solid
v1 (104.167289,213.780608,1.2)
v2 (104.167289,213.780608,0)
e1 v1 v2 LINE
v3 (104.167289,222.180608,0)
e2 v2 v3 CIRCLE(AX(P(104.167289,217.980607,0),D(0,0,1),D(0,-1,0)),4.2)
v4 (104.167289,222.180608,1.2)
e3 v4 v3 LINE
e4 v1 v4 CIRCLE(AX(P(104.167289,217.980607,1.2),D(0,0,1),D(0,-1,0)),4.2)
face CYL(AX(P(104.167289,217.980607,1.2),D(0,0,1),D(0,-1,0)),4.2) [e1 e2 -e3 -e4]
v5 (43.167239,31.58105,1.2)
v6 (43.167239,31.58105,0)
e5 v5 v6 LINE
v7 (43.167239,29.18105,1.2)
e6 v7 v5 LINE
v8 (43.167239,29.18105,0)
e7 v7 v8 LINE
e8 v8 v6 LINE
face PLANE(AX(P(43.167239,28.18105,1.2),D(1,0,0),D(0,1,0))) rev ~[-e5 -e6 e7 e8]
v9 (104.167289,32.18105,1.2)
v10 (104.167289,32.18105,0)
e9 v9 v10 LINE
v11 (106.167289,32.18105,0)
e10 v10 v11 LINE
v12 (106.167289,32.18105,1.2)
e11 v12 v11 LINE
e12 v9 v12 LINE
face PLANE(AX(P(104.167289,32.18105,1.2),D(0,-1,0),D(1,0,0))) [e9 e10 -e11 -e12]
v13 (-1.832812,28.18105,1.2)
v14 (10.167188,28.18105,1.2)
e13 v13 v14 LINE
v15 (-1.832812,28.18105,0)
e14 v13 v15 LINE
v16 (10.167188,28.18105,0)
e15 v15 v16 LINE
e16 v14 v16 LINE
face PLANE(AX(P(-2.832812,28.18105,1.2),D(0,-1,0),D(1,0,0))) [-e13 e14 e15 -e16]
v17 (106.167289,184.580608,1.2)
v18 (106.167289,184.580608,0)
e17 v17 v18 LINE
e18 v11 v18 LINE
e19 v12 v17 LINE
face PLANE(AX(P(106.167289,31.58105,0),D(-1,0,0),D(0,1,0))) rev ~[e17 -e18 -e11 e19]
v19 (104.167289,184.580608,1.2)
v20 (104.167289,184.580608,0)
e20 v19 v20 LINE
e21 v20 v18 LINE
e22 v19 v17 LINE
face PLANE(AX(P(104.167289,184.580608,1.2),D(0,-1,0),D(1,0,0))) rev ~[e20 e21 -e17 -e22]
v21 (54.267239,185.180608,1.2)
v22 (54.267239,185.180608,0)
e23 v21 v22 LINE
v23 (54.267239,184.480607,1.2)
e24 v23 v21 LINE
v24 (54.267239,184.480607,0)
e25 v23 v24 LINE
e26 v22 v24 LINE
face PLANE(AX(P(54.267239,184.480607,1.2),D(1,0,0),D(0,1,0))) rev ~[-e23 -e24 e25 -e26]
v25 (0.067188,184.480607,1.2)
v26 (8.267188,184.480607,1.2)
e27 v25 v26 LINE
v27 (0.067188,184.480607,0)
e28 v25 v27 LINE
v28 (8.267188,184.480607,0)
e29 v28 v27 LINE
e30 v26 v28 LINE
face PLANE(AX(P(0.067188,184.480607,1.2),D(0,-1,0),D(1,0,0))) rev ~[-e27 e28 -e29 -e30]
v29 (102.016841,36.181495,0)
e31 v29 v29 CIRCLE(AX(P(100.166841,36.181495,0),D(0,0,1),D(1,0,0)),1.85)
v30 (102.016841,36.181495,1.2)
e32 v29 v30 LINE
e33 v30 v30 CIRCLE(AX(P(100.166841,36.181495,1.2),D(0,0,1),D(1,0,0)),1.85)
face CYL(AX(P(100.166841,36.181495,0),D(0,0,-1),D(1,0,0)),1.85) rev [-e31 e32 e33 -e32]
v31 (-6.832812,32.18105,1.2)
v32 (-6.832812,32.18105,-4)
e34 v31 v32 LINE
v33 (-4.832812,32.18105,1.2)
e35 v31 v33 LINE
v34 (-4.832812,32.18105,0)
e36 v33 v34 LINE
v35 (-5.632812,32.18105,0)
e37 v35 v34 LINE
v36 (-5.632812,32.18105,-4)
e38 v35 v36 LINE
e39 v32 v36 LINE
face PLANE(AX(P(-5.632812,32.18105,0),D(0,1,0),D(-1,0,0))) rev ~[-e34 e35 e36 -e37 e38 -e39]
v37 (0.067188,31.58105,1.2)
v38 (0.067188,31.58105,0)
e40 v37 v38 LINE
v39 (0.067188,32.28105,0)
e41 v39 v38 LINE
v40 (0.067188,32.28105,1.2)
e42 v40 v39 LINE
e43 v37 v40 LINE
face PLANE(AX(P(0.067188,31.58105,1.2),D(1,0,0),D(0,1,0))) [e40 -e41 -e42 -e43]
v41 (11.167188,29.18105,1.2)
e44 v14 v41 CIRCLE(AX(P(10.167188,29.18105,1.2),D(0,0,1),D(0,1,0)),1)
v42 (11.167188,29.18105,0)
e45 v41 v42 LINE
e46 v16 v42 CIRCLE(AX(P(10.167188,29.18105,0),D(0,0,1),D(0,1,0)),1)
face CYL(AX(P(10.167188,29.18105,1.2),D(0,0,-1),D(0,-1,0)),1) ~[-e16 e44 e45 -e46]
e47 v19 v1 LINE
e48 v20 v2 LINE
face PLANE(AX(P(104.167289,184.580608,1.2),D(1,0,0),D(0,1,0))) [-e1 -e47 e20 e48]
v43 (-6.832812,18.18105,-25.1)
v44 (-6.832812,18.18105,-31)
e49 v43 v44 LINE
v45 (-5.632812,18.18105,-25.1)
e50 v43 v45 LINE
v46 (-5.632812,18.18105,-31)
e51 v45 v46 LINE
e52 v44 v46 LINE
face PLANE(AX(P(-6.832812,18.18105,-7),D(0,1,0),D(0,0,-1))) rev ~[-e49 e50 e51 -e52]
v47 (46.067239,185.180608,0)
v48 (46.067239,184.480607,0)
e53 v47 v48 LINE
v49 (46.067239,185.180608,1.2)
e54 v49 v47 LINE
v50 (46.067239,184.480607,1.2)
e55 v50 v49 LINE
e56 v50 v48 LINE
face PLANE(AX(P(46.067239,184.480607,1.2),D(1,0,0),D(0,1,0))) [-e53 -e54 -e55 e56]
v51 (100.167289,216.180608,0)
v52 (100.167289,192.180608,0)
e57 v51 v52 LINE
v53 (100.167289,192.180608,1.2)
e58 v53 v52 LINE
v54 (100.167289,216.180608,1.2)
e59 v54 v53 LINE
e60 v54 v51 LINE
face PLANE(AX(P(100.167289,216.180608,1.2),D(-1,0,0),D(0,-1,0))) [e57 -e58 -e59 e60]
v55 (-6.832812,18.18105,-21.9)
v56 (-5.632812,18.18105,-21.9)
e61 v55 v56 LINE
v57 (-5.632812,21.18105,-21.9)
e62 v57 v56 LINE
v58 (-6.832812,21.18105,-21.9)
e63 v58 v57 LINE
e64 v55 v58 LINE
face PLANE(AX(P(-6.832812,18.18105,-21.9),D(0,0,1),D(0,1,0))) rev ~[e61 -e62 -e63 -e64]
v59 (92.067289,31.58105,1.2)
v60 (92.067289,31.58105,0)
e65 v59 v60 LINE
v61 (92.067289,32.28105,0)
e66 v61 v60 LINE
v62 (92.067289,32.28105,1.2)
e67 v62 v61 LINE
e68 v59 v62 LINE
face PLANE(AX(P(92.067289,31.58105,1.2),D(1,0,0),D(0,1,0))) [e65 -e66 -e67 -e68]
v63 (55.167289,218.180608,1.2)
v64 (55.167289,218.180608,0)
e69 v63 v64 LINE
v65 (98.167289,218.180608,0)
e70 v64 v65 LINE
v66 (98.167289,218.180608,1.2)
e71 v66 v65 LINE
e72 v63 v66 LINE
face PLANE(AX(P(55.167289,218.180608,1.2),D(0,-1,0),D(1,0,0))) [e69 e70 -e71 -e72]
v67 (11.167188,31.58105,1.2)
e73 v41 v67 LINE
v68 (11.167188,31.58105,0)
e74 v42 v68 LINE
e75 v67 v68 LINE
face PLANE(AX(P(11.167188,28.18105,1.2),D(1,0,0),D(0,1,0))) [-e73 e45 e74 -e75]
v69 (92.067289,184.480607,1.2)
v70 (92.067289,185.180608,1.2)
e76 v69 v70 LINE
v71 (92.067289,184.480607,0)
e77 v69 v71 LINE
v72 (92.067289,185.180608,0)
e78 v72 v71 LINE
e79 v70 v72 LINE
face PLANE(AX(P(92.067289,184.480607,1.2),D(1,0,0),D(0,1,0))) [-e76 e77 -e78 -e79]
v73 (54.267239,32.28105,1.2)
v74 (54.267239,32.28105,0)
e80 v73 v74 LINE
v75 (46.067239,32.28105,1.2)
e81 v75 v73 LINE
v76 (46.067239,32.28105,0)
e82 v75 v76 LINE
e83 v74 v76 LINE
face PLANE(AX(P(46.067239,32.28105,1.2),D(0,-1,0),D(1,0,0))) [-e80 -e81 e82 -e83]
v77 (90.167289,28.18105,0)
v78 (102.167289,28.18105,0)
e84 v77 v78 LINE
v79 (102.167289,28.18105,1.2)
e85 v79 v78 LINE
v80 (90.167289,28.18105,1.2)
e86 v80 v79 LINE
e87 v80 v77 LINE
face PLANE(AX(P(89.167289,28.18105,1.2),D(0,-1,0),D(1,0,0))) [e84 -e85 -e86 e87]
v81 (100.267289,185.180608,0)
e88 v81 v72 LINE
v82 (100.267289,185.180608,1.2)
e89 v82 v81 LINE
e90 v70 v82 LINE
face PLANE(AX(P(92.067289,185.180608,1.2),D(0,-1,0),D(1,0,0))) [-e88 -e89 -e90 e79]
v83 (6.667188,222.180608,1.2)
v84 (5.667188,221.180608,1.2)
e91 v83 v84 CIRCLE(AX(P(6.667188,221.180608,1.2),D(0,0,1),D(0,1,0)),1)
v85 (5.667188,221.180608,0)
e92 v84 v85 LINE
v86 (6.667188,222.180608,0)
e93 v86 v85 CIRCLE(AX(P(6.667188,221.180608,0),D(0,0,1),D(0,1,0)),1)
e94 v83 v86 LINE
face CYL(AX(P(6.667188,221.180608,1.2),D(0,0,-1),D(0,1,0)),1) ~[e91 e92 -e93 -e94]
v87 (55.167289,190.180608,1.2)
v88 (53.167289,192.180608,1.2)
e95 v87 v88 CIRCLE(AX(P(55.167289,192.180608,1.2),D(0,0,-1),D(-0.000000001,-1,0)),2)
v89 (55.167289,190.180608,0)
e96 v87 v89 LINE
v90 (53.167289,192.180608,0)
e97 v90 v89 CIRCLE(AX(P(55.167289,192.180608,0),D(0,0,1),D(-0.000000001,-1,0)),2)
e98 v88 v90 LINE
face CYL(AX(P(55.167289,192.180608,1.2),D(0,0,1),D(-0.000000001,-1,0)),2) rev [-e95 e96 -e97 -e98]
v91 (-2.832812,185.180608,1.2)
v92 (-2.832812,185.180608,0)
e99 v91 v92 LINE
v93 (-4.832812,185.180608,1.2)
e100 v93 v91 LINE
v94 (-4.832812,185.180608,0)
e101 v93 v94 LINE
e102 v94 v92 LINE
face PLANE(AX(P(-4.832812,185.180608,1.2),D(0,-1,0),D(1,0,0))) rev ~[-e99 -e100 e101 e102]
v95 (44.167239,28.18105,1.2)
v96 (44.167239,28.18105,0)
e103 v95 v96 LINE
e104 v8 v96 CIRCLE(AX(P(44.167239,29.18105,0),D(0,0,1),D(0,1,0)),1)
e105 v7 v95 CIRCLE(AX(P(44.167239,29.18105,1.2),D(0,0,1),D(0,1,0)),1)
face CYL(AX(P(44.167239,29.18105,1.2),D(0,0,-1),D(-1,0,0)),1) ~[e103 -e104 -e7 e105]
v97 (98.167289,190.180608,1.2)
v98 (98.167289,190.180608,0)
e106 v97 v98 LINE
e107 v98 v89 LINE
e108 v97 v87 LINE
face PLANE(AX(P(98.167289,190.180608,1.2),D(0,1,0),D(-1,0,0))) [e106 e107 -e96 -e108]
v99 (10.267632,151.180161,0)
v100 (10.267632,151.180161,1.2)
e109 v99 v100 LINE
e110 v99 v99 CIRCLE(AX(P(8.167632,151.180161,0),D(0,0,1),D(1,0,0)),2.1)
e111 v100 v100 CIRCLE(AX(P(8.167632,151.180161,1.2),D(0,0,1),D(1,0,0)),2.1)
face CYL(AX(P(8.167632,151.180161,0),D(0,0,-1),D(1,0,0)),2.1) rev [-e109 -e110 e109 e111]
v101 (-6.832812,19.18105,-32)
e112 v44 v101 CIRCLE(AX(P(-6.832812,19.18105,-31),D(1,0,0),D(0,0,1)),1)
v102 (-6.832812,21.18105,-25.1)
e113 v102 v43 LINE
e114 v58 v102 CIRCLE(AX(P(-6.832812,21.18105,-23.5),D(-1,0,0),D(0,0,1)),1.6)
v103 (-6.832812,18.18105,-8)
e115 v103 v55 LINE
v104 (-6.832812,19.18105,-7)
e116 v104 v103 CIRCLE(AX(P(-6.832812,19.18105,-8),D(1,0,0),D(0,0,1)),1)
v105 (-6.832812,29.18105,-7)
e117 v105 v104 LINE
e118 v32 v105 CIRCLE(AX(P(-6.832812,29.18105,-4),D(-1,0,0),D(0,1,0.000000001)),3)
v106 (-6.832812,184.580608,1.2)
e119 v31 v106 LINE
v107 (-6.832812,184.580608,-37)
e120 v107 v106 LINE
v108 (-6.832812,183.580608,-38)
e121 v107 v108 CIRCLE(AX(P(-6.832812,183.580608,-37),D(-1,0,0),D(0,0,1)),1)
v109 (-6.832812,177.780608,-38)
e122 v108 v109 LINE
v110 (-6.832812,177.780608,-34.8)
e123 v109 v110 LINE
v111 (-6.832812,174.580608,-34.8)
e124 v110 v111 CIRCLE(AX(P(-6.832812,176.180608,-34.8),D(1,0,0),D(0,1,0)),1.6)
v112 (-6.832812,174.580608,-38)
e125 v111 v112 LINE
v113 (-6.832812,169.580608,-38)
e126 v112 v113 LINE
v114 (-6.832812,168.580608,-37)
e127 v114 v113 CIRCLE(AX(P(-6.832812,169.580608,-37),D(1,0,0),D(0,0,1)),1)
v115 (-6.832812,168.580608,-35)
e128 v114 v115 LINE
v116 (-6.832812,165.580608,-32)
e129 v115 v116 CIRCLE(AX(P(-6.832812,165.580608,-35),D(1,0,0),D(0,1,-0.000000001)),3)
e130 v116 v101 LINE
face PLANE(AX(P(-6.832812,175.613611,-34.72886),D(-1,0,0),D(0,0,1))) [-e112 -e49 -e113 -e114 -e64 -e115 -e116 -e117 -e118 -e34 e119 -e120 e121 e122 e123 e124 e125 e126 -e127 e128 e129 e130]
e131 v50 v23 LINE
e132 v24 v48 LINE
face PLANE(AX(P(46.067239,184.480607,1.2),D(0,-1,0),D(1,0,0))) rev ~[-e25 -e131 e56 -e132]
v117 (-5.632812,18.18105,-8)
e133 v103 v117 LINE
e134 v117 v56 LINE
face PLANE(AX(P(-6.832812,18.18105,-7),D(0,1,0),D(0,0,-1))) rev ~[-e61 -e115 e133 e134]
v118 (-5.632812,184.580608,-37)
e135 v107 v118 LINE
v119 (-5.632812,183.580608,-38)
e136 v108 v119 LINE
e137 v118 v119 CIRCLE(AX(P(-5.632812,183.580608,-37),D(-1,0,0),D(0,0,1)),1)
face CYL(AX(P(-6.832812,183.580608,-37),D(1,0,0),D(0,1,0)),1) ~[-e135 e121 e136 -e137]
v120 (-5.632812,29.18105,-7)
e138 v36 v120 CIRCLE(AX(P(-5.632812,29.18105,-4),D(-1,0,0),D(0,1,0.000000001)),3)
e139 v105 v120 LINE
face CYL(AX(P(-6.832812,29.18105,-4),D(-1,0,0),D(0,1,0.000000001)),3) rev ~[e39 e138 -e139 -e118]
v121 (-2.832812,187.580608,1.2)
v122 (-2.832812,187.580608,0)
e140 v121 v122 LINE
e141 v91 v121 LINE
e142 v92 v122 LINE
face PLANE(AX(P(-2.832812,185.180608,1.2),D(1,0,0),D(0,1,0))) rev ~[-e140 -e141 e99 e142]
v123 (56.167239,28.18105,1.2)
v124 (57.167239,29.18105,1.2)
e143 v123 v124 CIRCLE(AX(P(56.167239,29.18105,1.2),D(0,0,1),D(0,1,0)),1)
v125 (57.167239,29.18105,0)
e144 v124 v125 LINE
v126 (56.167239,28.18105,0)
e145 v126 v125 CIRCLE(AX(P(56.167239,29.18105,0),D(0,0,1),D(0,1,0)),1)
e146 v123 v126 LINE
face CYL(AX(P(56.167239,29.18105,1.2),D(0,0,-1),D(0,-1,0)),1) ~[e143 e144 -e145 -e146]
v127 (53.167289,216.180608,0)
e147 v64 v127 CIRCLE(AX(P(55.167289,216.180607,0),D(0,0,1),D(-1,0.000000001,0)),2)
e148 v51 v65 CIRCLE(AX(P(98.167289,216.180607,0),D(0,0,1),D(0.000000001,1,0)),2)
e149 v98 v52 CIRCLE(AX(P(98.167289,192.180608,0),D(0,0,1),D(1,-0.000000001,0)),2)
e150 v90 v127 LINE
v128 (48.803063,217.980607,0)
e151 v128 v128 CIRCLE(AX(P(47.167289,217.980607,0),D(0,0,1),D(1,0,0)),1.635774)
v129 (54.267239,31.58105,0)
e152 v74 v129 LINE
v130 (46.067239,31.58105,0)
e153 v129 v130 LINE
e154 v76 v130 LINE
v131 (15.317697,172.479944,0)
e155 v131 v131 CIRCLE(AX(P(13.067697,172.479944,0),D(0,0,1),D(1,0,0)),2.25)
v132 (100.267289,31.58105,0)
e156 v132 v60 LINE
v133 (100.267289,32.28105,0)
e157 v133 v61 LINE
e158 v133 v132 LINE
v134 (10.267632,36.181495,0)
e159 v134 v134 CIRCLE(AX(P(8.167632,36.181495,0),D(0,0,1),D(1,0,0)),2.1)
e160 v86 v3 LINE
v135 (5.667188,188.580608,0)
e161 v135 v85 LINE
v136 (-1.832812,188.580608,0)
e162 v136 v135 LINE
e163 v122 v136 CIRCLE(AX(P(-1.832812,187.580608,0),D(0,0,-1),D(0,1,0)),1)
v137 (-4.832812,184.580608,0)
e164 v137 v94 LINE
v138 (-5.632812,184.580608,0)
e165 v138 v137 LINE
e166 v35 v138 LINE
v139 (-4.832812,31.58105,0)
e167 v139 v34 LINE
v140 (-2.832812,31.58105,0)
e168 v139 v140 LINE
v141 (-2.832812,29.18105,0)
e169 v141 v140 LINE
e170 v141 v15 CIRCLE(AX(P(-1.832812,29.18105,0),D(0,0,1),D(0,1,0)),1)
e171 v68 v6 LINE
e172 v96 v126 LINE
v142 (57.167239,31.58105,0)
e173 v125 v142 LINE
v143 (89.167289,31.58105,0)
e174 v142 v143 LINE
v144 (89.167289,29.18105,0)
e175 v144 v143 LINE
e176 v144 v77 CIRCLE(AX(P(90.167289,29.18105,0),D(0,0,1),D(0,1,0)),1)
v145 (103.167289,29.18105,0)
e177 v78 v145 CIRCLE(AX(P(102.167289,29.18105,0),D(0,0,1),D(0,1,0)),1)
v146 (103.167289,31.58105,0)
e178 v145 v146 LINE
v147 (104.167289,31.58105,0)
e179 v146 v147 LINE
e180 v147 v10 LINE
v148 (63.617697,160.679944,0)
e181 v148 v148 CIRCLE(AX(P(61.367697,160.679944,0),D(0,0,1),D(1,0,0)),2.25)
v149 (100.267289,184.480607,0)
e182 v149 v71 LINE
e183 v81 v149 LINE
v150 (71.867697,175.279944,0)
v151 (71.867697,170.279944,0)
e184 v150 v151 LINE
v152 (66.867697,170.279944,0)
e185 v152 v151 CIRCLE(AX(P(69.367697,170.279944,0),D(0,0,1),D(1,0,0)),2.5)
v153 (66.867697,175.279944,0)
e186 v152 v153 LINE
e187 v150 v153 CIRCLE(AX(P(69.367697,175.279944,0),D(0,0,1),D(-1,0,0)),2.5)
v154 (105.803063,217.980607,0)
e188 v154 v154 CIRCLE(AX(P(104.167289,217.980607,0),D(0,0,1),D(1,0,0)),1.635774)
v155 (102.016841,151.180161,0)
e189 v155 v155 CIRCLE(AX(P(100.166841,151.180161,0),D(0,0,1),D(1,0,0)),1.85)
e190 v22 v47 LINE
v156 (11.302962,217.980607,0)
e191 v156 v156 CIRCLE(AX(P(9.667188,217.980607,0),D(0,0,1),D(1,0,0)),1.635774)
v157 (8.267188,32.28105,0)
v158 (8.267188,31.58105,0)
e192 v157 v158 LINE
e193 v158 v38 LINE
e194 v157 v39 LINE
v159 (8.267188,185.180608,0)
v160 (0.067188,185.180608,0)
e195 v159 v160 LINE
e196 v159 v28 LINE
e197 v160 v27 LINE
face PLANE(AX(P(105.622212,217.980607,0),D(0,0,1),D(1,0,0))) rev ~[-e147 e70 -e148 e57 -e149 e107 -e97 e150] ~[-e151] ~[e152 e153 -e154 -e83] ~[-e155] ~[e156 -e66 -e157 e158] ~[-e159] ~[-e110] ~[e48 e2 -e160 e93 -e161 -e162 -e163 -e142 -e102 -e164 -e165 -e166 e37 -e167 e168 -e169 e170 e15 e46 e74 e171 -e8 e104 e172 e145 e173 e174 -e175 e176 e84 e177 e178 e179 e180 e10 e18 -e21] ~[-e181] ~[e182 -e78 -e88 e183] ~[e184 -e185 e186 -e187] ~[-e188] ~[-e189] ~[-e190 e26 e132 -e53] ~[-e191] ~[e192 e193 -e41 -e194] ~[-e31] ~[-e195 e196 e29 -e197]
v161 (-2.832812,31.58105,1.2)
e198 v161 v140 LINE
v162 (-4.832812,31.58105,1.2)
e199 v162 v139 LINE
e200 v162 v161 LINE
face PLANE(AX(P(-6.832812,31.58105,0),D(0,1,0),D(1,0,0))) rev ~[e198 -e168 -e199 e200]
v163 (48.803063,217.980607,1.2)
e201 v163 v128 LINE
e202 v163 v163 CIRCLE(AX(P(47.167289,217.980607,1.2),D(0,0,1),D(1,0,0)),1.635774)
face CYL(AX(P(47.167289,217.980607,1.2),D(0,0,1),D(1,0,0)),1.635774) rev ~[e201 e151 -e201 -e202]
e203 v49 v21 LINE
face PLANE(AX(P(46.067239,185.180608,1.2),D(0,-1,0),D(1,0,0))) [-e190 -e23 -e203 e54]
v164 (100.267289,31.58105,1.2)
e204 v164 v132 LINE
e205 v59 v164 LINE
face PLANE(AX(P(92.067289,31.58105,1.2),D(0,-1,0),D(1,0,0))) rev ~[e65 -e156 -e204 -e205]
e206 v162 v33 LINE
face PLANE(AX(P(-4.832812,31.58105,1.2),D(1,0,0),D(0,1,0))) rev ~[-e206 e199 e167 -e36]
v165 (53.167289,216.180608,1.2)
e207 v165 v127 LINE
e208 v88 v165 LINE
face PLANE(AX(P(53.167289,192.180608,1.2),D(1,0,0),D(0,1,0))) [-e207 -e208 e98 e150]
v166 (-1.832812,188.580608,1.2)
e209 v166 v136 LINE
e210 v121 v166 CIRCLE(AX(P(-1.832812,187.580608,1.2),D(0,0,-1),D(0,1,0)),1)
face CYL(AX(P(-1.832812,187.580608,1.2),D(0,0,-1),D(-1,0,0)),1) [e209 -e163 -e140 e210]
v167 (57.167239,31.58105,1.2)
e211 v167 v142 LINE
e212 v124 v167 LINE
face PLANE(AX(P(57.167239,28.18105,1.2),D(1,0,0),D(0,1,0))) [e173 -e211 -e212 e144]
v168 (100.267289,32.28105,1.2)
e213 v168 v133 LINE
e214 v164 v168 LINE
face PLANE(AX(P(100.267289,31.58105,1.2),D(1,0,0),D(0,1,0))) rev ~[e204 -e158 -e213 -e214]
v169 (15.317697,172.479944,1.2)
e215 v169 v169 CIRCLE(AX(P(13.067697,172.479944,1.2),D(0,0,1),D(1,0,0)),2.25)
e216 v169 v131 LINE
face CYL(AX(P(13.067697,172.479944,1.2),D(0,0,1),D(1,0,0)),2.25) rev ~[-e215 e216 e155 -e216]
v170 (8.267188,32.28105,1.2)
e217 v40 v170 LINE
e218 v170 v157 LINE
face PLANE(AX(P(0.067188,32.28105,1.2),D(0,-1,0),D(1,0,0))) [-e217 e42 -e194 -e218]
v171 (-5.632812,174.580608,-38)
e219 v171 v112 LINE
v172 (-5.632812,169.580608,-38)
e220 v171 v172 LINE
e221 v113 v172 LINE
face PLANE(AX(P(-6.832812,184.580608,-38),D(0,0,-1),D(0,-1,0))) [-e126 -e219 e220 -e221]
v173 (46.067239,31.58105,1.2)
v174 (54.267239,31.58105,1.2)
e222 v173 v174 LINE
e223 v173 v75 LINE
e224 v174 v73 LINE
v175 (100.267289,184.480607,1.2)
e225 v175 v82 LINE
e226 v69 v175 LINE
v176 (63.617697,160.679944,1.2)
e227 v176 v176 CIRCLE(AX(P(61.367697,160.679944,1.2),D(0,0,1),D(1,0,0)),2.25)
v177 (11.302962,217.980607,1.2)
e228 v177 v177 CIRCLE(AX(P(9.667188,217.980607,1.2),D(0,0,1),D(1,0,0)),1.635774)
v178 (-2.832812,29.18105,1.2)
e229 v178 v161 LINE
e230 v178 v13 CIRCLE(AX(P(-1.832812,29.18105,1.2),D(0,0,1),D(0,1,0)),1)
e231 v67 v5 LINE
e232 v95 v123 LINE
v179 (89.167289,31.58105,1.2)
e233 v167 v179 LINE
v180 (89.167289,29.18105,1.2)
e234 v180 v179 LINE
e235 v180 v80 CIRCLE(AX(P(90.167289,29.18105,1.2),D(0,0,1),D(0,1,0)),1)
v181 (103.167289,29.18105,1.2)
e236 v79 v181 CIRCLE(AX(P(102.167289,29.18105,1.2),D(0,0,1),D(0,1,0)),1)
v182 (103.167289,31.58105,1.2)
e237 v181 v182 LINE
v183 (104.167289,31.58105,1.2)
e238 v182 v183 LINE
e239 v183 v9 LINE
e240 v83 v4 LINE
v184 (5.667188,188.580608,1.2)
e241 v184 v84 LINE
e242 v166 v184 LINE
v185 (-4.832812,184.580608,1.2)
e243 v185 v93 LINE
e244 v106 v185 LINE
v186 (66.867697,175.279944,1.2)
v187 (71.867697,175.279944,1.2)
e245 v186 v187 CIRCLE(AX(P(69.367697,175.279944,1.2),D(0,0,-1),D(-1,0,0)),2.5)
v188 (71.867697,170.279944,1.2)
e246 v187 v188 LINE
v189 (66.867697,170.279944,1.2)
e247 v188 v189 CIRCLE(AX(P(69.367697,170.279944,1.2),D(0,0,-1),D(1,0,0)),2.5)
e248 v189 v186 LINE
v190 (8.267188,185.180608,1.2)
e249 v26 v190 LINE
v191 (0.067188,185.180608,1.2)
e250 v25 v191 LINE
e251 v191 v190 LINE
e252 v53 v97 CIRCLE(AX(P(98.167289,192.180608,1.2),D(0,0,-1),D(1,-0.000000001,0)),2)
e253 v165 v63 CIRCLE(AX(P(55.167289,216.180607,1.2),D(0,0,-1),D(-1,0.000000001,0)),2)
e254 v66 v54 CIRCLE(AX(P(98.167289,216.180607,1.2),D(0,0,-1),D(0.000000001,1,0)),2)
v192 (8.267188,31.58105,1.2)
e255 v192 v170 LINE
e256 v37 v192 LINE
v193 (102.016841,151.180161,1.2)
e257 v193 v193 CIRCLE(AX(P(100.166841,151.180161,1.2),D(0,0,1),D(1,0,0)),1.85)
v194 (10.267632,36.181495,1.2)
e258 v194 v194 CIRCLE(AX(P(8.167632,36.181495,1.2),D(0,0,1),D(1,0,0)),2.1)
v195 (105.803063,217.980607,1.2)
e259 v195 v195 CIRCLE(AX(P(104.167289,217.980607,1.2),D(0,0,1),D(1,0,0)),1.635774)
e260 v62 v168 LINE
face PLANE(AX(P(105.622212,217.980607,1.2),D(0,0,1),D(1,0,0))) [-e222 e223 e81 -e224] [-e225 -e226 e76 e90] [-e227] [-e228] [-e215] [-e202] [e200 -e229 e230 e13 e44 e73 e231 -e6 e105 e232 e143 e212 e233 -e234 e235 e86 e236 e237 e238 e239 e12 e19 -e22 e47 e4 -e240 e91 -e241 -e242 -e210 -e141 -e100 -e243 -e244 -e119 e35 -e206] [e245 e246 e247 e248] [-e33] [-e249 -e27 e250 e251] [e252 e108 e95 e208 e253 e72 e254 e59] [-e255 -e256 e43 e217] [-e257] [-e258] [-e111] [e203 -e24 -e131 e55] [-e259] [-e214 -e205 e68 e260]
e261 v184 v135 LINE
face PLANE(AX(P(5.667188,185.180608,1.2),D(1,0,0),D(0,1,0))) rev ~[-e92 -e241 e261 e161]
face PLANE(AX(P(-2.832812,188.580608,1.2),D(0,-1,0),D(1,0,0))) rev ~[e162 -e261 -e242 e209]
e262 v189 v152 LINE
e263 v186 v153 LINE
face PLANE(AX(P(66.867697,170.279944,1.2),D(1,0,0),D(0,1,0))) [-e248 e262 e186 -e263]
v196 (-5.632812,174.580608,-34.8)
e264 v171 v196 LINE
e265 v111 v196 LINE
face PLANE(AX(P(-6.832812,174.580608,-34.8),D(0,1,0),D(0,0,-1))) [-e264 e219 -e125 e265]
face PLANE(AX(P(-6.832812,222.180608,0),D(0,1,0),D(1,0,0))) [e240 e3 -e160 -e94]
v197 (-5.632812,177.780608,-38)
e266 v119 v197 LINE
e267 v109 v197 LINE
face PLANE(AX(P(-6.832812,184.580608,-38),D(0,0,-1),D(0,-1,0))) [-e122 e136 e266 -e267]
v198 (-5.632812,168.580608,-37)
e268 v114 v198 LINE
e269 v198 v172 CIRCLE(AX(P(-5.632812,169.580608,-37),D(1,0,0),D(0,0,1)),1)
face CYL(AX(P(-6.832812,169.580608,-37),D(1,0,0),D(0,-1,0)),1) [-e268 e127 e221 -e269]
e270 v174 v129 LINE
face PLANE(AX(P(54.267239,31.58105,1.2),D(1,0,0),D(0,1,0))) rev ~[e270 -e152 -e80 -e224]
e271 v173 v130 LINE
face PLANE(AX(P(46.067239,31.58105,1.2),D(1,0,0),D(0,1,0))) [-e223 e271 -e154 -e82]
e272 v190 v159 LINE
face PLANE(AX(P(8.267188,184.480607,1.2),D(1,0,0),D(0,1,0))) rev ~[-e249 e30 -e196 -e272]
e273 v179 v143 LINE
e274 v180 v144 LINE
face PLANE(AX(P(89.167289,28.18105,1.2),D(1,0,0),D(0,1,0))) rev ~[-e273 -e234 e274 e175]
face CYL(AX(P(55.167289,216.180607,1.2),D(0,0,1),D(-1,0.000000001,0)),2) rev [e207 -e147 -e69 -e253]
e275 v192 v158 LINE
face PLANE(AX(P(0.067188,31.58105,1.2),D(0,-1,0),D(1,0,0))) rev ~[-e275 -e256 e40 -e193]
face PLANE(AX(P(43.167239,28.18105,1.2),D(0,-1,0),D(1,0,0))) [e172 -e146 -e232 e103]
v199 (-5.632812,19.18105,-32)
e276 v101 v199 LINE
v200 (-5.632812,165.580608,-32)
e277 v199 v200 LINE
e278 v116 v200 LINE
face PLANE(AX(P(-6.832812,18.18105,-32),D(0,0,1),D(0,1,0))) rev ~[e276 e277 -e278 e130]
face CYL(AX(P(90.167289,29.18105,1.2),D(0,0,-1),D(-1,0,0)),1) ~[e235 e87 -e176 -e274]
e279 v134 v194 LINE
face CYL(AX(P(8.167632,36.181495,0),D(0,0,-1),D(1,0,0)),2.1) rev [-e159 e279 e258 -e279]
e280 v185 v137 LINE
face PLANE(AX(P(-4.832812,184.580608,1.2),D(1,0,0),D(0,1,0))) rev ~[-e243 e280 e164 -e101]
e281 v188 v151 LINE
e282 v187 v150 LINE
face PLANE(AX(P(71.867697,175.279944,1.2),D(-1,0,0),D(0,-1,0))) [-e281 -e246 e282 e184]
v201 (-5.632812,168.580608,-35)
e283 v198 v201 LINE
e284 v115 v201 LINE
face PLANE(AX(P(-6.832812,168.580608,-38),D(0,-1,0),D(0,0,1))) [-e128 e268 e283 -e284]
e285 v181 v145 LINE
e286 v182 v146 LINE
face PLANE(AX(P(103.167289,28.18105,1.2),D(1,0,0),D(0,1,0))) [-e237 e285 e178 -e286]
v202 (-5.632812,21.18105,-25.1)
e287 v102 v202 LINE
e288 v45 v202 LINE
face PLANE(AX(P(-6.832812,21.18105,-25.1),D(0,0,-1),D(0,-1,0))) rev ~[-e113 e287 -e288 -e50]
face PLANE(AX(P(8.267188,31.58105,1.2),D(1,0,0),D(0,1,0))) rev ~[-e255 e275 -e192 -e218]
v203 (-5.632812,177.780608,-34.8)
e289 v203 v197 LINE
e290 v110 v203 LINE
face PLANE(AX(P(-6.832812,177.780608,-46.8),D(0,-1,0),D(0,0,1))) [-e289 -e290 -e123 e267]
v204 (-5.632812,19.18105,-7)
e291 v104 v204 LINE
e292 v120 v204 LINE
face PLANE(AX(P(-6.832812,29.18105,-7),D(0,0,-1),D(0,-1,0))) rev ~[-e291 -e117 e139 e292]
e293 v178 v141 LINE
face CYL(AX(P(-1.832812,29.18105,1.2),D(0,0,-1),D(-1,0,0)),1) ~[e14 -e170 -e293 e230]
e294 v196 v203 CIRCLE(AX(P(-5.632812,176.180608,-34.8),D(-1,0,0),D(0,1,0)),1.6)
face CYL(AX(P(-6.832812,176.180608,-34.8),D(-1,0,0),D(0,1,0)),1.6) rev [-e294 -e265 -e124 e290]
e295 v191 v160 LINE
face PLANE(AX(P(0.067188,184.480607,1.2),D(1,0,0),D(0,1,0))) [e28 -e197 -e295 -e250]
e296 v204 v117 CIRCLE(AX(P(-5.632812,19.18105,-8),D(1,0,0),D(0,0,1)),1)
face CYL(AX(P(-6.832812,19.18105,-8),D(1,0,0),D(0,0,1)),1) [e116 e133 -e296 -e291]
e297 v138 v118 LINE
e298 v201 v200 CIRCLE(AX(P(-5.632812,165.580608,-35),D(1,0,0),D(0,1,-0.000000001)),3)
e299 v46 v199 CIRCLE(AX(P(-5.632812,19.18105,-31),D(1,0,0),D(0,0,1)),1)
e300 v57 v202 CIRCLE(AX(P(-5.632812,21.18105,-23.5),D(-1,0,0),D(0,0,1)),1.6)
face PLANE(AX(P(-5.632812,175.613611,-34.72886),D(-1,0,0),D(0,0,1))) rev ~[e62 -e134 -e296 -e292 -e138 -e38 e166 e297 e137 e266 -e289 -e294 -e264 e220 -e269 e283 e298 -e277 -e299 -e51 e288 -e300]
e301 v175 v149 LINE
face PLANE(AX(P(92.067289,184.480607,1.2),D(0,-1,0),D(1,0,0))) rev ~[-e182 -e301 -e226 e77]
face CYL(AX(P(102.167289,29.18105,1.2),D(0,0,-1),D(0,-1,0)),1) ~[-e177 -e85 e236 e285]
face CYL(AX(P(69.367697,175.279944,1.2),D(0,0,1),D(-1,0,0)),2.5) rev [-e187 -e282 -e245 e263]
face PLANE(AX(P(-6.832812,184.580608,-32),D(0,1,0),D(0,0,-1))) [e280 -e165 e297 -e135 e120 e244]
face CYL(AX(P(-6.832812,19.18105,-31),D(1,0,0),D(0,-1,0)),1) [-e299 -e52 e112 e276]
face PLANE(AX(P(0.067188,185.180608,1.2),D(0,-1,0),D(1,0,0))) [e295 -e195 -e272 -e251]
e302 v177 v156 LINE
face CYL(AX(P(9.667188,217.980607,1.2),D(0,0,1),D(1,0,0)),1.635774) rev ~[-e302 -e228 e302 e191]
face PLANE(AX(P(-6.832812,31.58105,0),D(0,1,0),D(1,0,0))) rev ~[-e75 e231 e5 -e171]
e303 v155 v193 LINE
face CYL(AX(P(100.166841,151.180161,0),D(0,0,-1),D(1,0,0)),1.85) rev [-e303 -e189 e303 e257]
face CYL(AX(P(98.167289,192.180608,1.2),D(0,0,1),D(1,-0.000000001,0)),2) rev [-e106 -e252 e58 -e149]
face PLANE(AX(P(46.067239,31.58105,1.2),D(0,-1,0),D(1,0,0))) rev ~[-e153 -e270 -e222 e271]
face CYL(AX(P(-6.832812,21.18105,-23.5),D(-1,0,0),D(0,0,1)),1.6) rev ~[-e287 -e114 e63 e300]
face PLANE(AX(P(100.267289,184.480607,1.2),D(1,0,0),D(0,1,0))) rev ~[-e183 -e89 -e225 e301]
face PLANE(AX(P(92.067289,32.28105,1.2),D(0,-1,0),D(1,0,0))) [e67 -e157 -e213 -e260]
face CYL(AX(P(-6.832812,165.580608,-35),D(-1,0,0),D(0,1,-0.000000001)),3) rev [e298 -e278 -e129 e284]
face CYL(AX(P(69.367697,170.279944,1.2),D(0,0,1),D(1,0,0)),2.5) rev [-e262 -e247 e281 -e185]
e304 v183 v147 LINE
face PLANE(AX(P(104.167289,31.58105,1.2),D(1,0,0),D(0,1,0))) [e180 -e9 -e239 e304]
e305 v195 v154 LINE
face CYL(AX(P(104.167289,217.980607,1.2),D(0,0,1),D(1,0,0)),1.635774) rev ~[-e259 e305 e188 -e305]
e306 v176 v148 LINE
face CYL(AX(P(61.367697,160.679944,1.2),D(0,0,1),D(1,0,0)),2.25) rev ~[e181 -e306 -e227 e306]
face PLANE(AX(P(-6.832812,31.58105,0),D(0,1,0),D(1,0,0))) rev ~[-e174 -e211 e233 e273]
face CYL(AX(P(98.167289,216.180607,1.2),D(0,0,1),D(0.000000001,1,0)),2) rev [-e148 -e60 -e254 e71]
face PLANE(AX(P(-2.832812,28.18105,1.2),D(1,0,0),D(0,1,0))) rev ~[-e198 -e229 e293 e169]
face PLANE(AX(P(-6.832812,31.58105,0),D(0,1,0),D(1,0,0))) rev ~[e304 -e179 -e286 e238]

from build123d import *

# Parameters (mm, degrees)
SKETCH2_W           = 113.00010125
SKETCH2_H           = 190.5995575
SKETCH2_R           = 2.1
SKETCH2_R_2         = 1.85
BOSS_EXTRUDE1_DEPTH = 1.2
SKETCH5_W           = 2
SKETCH5_H           = 37.6
SKETCH5_H_2         = 0.6
CUT_EXTRUDE2_DEPTH  = 2.2
CUT_EXTRUDE1_DEPTH  = 2.2
SKETCH9_W           = 14
SKETCH9_H           = 3.4
SKETCH9_W_2         = 8.5
BOSS_EXTRUDE5_DEPTH = 1.2
FILLET1_R           = 1
CUT_EXTRUDE4_REACH  = 3.2
SKETCH10_W          = 8.2
SKETCH10_H          = 0.7
SKETCH11_R          = 2.25
CUT_EXTRUDE5_DEPTH  = 2.2
BOSS_EXTRUDE6_DEPTH = 1.2
SKETCH13_R          = 1.635773904
CUT_EXTRUDE6_DEPTH  = 2.2
SKETCH14_W          = 1.2
SKETCH14_H          = 152.3995575
BOSS_EXTRUDE7_DEPTH = 32
BOSS_EXTRUDE8_DEPTH = 1.2
BOSS_EXTRUDE9_DEPTH = 1.2
CUT_EXTRUDE7_REACH  = 117.2
FILLET2_R           = 1


with BuildPart() as part:
    # Sketch2 → Boss-Extrude1 (new body)
    with BuildSketch(Plane.XY):
        with Locations((49.667238625, 126.88082875)):
            Rectangle(SKETCH2_W, SKETCH2_H)
        with Locations((8.16763175, 151.180160625)):
            Circle(SKETCH2_R, mode=Mode.SUBTRACT)
        with Locations((100.1668405, 151.180160625)):
            Circle(SKETCH2_R_2, mode=Mode.SUBTRACT)
        with Locations((100.1668405, 36.181495)):
            Circle(SKETCH2_R_2, mode=Mode.SUBTRACT)
        with Locations((8.16763175, 36.181495)):
            Circle(SKETCH2_R, mode=Mode.SUBTRACT)
    extrude(amount=BOSS_EXTRUDE1_DEPTH)

    # Sketch5 → Cut-Extrude2 (cut, through all)
    with BuildSketch(Plane.XY.offset(1.2)):
        Polygon((-4.832812, 185.1806075), (5.667188, 185.1806075), (5.667188, 222.1806075), (-6.832812, 222.1806075), (-6.832812, 185.1806075), (-6.832812, 184.5806075), (-4.832812, 184.5806075), align=None)
        with Locations((105.16728925, 203.3806075)):
            Rectangle(SKETCH5_W, SKETCH5_H)
        with Locations((-5.832812, 31.88105)):
            Rectangle(SKETCH5_W, SKETCH5_H_2)
        with Locations((105.16728925, 31.88105)):
            Rectangle(SKETCH5_W, SKETCH5_H_2)
    extrude(amount=-CUT_EXTRUDE2_DEPTH, mode=Mode.SUBTRACT)

    # Sketch4 → Cut-Extrude1 (cut, through all)
    with BuildSketch(Plane.XY.offset(1.2)):
        with BuildLine():
            Line((55.16728925, 218.1806075), (98.16728925, 218.1806075))
            ThreePointArc((98.16728925, 218.1806075), (99.581502812, 217.594821062), (100.16728925, 216.1806075))
            Line((100.16728925, 216.1806075), (100.16728925, 192.1806075))
            ThreePointArc((100.16728925, 192.1806075), (99.581502812, 190.766393938), (98.16728925, 190.1806075))
            Line((98.16728925, 190.1806075), (55.16728925, 190.1806075))
            ThreePointArc((55.16728925, 190.1806075), (53.753075688, 190.766393938), (53.16728925, 192.1806075))
            Line((53.16728925, 192.1806075), (53.16728925, 216.1806075))
            ThreePointArc((53.16728925, 216.1806075), (53.753075688, 217.594821062), (55.16728925, 218.1806075))
        make_face()
    extrude(amount=-CUT_EXTRUDE1_DEPTH, mode=Mode.SUBTRACT)

    # Sketch9 → Boss-Extrude5 (add)
    with BuildSketch(Plane.XY.offset(1.2)):
        with Locations((4.167188, 29.88105)):
            Rectangle(SKETCH9_W, SKETCH9_H)
        with Locations((96.16728925, 29.88105)):
            Rectangle(SKETCH9_W, SKETCH9_H)
        with Locations((50.167238625, 29.88105)):
            Rectangle(SKETCH9_W, SKETCH9_H)
        with Locations((1.417188, 186.8806075)):
            Rectangle(SKETCH9_W_2, SKETCH9_H)
    extrude(amount=-BOSS_EXTRUDE5_DEPTH)

    # Fillet1
    fillet1_edges = [part.edges().sort_by_distance(p)[0] for p in [
        (103.16728925, 28.18105, 0.6),
        (89.16728925, 28.18105, 0.6),
        (57.167238625, 28.18105, 0.6),
        (43.167238625, 28.18105, 0.6),
        (11.167188, 28.18105, 0.6),
        (-2.832812, 28.18105, 0.6),
        (-2.832812, 188.5806075, 0.6),
    ]]
    fillet(fillet1_edges, radius=FILLET1_R)

    # Sketch10 → Cut-Extrude4 (cut, up to next)
    with BuildSketch(Plane.XY.offset(1.2), mode=Mode.PRIVATE) as cut_extrude4_sk1:
        with Locations((96.16728925, 31.93105)):
            Rectangle(SKETCH10_W, SKETCH10_H)
    cut_extrude4_tool1 = extrude(cut_extrude4_sk1.sketch, amount=-CUT_EXTRUDE4_REACH, mode=Mode.PRIVATE) & part.part
    add(cut_extrude4_tool1.solids().sort_by_distance((96.167289, 31.93105, 1.2))[0], mode=Mode.SUBTRACT)
    # Sketch10 → Cut-Extrude4 (cut, up to next)
    with BuildSketch(Plane.XY.offset(1.2), mode=Mode.PRIVATE) as cut_extrude4_sk2:
        with Locations((50.167238625, 31.93105)):
            Rectangle(SKETCH10_W, SKETCH10_H)
    cut_extrude4_tool2 = extrude(cut_extrude4_sk2.sketch, amount=-CUT_EXTRUDE4_REACH, mode=Mode.PRIVATE) & part.part
    add(cut_extrude4_tool2.solids().sort_by_distance((50.167239, 31.93105, 1.2))[0], mode=Mode.SUBTRACT)
    # Sketch10 → Cut-Extrude4 (cut, up to next)
    with BuildSketch(Plane.XY.offset(1.2), mode=Mode.PRIVATE) as cut_extrude4_sk3:
        with Locations((4.167188, 31.93105)):
            Rectangle(SKETCH10_W, SKETCH10_H)
    cut_extrude4_tool3 = extrude(cut_extrude4_sk3.sketch, amount=-CUT_EXTRUDE4_REACH, mode=Mode.PRIVATE) & part.part
    add(cut_extrude4_tool3.solids().sort_by_distance((4.167188, 31.93105, 1.2))[0], mode=Mode.SUBTRACT)
    # Sketch10 → Cut-Extrude4 (cut, up to next)
    with BuildSketch(Plane.XY.offset(1.2), mode=Mode.PRIVATE) as cut_extrude4_sk4:
        with Locations((50.167238625, 184.8306075)):
            Rectangle(SKETCH10_W, SKETCH10_H)
    cut_extrude4_tool4 = extrude(cut_extrude4_sk4.sketch, amount=-CUT_EXTRUDE4_REACH, mode=Mode.PRIVATE) & part.part
    add(cut_extrude4_tool4.solids().sort_by_distance((50.167239, 184.830607, 1.2))[0], mode=Mode.SUBTRACT)
    # Sketch10 → Cut-Extrude4 (cut, up to next)
    with BuildSketch(Plane.XY.offset(1.2), mode=Mode.PRIVATE) as cut_extrude4_sk5:
        with Locations((96.16728925, 184.8306075)):
            Rectangle(SKETCH10_W, SKETCH10_H)
    cut_extrude4_tool5 = extrude(cut_extrude4_sk5.sketch, amount=-CUT_EXTRUDE4_REACH, mode=Mode.PRIVATE) & part.part
    add(cut_extrude4_tool5.solids().sort_by_distance((96.167289, 184.830607, 1.2))[0], mode=Mode.SUBTRACT)
    # Sketch10 → Cut-Extrude4 (cut, up to next)
    with BuildSketch(Plane.XY.offset(1.2), mode=Mode.PRIVATE) as cut_extrude4_sk6:
        with Locations((4.167188, 184.8306075)):
            Rectangle(SKETCH10_W, SKETCH10_H)
    cut_extrude4_tool6 = extrude(cut_extrude4_sk6.sketch, amount=-CUT_EXTRUDE4_REACH, mode=Mode.PRIVATE) & part.part
    add(cut_extrude4_tool6.solids().sort_by_distance((4.167188, 184.830607, 1.2))[0], mode=Mode.SUBTRACT)

    # Sketch11 → Cut-Extrude5 (cut, through all)
    with BuildSketch(Plane.XY.offset(1.2)):
        with Locations((61.367697375, 160.67994375)):
            Circle(SKETCH11_R)
        with Locations((13.067697375, 172.47994375)):
            Circle(SKETCH11_R)
        with BuildLine():
            Line((71.867697375, 175.27994375), (71.867697375, 170.27994375))
            ThreePointArc((71.867697375, 170.27994375), (69.367697375, 167.77994375), (66.867697375, 170.27994375))
            Line((66.867697375, 170.27994375), (66.867697375, 175.27994375))
            ThreePointArc((66.867697375, 175.27994375), (69.367697375, 177.77994375), (71.867697375, 175.27994375))
        make_face()
    extrude(amount=-CUT_EXTRUDE5_DEPTH, mode=Mode.SUBTRACT)

    # Sketch12 → Boss-Extrude6 (add)
    with BuildSketch(Plane.XY.offset(1.2)):
        with BuildLine():
            Line((104.16728925, 222.1806075), (104.16728925, 213.7806075))
            ThreePointArc((104.16728925, 213.7806075), (108.36728925, 217.9806075), (104.16728925, 222.1806075))
        make_face()
    extrude(amount=-BOSS_EXTRUDE6_DEPTH)

    # Sketch13 → Cut-Extrude6 (cut, through all)
    with BuildSketch(Plane.XY.offset(1.2)):
        with Locations((104.16728925, 217.9806075)):
            Circle(SKETCH13_R)
        with Locations((47.16728925, 217.9806075)):
            Circle(SKETCH13_R)
        with Locations((9.667188, 217.9806075)):
            Circle(SKETCH13_R)
    extrude(amount=-CUT_EXTRUDE6_DEPTH, mode=Mode.SUBTRACT)

    # Sketch14 → Boss-Extrude7 (add)
    with BuildSketch(Plane(origin=(0, 0, 0), x_dir=(-1, 0, 0), z_dir=(0, 0, -1))):
        with Locations((6.232812, 108.38082875)):
            Rectangle(SKETCH14_W, SKETCH14_H)
    extrude(amount=BOSS_EXTRUDE7_DEPTH)

    # Sketch16 → Boss-Extrude8 (add)
    with BuildSketch(Plane.ZY.offset(6.832812)):
        with BuildLine():
            Line((-32, 32.18105), (-4, 32.18105))
            ThreePointArc((-4, 32.18105), (-6.121320344, 31.302370344), (-7, 29.18105))
            Line((-7, 29.18105), (-7, 18.18105))
            Line((-7, 18.18105), (-32, 18.18105))
            Line((-32, 18.18105), (-32, 32.18105))
        make_face()
    extrude(amount=-BOSS_EXTRUDE8_DEPTH)

    # Sketch17 → Boss-Extrude9 (add)
    with BuildSketch(Plane.ZY.offset(6.832812)):
        with BuildLine():
            Line((-32, 184.5806075), (-38, 184.5806075))
            Line((-38, 184.5806075), (-38, 168.5806075))
            Line((-38, 168.5806075), (-35, 168.5806075))
            ThreePointArc((-35, 168.5806075), (-32.878679656, 167.701927844), (-32, 165.5806075))
            Line((-32, 165.5806075), (-32, 184.5806075))
        make_face()
    extrude(amount=-BOSS_EXTRUDE9_DEPTH)

    # Sketch15 → Cut-Extrude7 (cut, up to next)
    with BuildSketch(Plane.ZY.offset(6.832812), mode=Mode.PRIVATE) as cut_extrude7_sk1:
        with BuildLine():
            Line((-46.8, 177.7806075), (-34.8, 177.7806075))
            ThreePointArc((-34.8, 177.7806075), (-33.2, 176.1806075), (-34.8, 174.5806075))
            Line((-34.8, 174.5806075), (-46.8, 174.5806075))
            ThreePointArc((-46.8, 174.5806075), (-48.4, 176.1806075), (-46.8, 177.7806075))
        make_face()
    cut_extrude7_tool1 = extrude(cut_extrude7_sk1.sketch, amount=-CUT_EXTRUDE7_REACH, mode=Mode.PRIVATE) & part.part
    add(cut_extrude7_tool1.solids().sort_by_distance((-6.832812, 176.180608, -40.8))[0], mode=Mode.SUBTRACT)
    # Sketch15 → Cut-Extrude7 (cut, up to next)
    with BuildSketch(Plane.ZY.offset(6.832812), mode=Mode.PRIVATE) as cut_extrude7_sk2:
        with BuildLine():
            Line((-25.1, 21.18105), (-25.1, 18.18105))
            Line((-25.1, 18.18105), (-21.9, 18.18105))
            Line((-21.9, 18.18105), (-21.9, 21.18105))
            ThreePointArc((-21.9, 21.18105), (-23.5, 22.78105), (-25.1, 21.18105))
        make_face()
    cut_extrude7_tool2 = extrude(cut_extrude7_sk2.sketch, amount=-CUT_EXTRUDE7_REACH, mode=Mode.PRIVATE) & part.part
    add(cut_extrude7_tool2.solids().sort_by_distance((-6.832812, 20.324349, -23.5))[0], mode=Mode.SUBTRACT)

    # Fillet2
    fillet2_edges = [part.edges().sort_by_distance(p)[0] for p in [
        (5.667188, 222.1806075, 0.6),
        (-6.232812, 18.18105, -32),
        (-6.232812, 18.18105, -7),
        (-6.232812, 168.5806075, -38),
        (-6.232812, 184.5806075, -38),
    ]]
    fillet(fillet2_edges, radius=FILLET2_R)


solid = part.part
